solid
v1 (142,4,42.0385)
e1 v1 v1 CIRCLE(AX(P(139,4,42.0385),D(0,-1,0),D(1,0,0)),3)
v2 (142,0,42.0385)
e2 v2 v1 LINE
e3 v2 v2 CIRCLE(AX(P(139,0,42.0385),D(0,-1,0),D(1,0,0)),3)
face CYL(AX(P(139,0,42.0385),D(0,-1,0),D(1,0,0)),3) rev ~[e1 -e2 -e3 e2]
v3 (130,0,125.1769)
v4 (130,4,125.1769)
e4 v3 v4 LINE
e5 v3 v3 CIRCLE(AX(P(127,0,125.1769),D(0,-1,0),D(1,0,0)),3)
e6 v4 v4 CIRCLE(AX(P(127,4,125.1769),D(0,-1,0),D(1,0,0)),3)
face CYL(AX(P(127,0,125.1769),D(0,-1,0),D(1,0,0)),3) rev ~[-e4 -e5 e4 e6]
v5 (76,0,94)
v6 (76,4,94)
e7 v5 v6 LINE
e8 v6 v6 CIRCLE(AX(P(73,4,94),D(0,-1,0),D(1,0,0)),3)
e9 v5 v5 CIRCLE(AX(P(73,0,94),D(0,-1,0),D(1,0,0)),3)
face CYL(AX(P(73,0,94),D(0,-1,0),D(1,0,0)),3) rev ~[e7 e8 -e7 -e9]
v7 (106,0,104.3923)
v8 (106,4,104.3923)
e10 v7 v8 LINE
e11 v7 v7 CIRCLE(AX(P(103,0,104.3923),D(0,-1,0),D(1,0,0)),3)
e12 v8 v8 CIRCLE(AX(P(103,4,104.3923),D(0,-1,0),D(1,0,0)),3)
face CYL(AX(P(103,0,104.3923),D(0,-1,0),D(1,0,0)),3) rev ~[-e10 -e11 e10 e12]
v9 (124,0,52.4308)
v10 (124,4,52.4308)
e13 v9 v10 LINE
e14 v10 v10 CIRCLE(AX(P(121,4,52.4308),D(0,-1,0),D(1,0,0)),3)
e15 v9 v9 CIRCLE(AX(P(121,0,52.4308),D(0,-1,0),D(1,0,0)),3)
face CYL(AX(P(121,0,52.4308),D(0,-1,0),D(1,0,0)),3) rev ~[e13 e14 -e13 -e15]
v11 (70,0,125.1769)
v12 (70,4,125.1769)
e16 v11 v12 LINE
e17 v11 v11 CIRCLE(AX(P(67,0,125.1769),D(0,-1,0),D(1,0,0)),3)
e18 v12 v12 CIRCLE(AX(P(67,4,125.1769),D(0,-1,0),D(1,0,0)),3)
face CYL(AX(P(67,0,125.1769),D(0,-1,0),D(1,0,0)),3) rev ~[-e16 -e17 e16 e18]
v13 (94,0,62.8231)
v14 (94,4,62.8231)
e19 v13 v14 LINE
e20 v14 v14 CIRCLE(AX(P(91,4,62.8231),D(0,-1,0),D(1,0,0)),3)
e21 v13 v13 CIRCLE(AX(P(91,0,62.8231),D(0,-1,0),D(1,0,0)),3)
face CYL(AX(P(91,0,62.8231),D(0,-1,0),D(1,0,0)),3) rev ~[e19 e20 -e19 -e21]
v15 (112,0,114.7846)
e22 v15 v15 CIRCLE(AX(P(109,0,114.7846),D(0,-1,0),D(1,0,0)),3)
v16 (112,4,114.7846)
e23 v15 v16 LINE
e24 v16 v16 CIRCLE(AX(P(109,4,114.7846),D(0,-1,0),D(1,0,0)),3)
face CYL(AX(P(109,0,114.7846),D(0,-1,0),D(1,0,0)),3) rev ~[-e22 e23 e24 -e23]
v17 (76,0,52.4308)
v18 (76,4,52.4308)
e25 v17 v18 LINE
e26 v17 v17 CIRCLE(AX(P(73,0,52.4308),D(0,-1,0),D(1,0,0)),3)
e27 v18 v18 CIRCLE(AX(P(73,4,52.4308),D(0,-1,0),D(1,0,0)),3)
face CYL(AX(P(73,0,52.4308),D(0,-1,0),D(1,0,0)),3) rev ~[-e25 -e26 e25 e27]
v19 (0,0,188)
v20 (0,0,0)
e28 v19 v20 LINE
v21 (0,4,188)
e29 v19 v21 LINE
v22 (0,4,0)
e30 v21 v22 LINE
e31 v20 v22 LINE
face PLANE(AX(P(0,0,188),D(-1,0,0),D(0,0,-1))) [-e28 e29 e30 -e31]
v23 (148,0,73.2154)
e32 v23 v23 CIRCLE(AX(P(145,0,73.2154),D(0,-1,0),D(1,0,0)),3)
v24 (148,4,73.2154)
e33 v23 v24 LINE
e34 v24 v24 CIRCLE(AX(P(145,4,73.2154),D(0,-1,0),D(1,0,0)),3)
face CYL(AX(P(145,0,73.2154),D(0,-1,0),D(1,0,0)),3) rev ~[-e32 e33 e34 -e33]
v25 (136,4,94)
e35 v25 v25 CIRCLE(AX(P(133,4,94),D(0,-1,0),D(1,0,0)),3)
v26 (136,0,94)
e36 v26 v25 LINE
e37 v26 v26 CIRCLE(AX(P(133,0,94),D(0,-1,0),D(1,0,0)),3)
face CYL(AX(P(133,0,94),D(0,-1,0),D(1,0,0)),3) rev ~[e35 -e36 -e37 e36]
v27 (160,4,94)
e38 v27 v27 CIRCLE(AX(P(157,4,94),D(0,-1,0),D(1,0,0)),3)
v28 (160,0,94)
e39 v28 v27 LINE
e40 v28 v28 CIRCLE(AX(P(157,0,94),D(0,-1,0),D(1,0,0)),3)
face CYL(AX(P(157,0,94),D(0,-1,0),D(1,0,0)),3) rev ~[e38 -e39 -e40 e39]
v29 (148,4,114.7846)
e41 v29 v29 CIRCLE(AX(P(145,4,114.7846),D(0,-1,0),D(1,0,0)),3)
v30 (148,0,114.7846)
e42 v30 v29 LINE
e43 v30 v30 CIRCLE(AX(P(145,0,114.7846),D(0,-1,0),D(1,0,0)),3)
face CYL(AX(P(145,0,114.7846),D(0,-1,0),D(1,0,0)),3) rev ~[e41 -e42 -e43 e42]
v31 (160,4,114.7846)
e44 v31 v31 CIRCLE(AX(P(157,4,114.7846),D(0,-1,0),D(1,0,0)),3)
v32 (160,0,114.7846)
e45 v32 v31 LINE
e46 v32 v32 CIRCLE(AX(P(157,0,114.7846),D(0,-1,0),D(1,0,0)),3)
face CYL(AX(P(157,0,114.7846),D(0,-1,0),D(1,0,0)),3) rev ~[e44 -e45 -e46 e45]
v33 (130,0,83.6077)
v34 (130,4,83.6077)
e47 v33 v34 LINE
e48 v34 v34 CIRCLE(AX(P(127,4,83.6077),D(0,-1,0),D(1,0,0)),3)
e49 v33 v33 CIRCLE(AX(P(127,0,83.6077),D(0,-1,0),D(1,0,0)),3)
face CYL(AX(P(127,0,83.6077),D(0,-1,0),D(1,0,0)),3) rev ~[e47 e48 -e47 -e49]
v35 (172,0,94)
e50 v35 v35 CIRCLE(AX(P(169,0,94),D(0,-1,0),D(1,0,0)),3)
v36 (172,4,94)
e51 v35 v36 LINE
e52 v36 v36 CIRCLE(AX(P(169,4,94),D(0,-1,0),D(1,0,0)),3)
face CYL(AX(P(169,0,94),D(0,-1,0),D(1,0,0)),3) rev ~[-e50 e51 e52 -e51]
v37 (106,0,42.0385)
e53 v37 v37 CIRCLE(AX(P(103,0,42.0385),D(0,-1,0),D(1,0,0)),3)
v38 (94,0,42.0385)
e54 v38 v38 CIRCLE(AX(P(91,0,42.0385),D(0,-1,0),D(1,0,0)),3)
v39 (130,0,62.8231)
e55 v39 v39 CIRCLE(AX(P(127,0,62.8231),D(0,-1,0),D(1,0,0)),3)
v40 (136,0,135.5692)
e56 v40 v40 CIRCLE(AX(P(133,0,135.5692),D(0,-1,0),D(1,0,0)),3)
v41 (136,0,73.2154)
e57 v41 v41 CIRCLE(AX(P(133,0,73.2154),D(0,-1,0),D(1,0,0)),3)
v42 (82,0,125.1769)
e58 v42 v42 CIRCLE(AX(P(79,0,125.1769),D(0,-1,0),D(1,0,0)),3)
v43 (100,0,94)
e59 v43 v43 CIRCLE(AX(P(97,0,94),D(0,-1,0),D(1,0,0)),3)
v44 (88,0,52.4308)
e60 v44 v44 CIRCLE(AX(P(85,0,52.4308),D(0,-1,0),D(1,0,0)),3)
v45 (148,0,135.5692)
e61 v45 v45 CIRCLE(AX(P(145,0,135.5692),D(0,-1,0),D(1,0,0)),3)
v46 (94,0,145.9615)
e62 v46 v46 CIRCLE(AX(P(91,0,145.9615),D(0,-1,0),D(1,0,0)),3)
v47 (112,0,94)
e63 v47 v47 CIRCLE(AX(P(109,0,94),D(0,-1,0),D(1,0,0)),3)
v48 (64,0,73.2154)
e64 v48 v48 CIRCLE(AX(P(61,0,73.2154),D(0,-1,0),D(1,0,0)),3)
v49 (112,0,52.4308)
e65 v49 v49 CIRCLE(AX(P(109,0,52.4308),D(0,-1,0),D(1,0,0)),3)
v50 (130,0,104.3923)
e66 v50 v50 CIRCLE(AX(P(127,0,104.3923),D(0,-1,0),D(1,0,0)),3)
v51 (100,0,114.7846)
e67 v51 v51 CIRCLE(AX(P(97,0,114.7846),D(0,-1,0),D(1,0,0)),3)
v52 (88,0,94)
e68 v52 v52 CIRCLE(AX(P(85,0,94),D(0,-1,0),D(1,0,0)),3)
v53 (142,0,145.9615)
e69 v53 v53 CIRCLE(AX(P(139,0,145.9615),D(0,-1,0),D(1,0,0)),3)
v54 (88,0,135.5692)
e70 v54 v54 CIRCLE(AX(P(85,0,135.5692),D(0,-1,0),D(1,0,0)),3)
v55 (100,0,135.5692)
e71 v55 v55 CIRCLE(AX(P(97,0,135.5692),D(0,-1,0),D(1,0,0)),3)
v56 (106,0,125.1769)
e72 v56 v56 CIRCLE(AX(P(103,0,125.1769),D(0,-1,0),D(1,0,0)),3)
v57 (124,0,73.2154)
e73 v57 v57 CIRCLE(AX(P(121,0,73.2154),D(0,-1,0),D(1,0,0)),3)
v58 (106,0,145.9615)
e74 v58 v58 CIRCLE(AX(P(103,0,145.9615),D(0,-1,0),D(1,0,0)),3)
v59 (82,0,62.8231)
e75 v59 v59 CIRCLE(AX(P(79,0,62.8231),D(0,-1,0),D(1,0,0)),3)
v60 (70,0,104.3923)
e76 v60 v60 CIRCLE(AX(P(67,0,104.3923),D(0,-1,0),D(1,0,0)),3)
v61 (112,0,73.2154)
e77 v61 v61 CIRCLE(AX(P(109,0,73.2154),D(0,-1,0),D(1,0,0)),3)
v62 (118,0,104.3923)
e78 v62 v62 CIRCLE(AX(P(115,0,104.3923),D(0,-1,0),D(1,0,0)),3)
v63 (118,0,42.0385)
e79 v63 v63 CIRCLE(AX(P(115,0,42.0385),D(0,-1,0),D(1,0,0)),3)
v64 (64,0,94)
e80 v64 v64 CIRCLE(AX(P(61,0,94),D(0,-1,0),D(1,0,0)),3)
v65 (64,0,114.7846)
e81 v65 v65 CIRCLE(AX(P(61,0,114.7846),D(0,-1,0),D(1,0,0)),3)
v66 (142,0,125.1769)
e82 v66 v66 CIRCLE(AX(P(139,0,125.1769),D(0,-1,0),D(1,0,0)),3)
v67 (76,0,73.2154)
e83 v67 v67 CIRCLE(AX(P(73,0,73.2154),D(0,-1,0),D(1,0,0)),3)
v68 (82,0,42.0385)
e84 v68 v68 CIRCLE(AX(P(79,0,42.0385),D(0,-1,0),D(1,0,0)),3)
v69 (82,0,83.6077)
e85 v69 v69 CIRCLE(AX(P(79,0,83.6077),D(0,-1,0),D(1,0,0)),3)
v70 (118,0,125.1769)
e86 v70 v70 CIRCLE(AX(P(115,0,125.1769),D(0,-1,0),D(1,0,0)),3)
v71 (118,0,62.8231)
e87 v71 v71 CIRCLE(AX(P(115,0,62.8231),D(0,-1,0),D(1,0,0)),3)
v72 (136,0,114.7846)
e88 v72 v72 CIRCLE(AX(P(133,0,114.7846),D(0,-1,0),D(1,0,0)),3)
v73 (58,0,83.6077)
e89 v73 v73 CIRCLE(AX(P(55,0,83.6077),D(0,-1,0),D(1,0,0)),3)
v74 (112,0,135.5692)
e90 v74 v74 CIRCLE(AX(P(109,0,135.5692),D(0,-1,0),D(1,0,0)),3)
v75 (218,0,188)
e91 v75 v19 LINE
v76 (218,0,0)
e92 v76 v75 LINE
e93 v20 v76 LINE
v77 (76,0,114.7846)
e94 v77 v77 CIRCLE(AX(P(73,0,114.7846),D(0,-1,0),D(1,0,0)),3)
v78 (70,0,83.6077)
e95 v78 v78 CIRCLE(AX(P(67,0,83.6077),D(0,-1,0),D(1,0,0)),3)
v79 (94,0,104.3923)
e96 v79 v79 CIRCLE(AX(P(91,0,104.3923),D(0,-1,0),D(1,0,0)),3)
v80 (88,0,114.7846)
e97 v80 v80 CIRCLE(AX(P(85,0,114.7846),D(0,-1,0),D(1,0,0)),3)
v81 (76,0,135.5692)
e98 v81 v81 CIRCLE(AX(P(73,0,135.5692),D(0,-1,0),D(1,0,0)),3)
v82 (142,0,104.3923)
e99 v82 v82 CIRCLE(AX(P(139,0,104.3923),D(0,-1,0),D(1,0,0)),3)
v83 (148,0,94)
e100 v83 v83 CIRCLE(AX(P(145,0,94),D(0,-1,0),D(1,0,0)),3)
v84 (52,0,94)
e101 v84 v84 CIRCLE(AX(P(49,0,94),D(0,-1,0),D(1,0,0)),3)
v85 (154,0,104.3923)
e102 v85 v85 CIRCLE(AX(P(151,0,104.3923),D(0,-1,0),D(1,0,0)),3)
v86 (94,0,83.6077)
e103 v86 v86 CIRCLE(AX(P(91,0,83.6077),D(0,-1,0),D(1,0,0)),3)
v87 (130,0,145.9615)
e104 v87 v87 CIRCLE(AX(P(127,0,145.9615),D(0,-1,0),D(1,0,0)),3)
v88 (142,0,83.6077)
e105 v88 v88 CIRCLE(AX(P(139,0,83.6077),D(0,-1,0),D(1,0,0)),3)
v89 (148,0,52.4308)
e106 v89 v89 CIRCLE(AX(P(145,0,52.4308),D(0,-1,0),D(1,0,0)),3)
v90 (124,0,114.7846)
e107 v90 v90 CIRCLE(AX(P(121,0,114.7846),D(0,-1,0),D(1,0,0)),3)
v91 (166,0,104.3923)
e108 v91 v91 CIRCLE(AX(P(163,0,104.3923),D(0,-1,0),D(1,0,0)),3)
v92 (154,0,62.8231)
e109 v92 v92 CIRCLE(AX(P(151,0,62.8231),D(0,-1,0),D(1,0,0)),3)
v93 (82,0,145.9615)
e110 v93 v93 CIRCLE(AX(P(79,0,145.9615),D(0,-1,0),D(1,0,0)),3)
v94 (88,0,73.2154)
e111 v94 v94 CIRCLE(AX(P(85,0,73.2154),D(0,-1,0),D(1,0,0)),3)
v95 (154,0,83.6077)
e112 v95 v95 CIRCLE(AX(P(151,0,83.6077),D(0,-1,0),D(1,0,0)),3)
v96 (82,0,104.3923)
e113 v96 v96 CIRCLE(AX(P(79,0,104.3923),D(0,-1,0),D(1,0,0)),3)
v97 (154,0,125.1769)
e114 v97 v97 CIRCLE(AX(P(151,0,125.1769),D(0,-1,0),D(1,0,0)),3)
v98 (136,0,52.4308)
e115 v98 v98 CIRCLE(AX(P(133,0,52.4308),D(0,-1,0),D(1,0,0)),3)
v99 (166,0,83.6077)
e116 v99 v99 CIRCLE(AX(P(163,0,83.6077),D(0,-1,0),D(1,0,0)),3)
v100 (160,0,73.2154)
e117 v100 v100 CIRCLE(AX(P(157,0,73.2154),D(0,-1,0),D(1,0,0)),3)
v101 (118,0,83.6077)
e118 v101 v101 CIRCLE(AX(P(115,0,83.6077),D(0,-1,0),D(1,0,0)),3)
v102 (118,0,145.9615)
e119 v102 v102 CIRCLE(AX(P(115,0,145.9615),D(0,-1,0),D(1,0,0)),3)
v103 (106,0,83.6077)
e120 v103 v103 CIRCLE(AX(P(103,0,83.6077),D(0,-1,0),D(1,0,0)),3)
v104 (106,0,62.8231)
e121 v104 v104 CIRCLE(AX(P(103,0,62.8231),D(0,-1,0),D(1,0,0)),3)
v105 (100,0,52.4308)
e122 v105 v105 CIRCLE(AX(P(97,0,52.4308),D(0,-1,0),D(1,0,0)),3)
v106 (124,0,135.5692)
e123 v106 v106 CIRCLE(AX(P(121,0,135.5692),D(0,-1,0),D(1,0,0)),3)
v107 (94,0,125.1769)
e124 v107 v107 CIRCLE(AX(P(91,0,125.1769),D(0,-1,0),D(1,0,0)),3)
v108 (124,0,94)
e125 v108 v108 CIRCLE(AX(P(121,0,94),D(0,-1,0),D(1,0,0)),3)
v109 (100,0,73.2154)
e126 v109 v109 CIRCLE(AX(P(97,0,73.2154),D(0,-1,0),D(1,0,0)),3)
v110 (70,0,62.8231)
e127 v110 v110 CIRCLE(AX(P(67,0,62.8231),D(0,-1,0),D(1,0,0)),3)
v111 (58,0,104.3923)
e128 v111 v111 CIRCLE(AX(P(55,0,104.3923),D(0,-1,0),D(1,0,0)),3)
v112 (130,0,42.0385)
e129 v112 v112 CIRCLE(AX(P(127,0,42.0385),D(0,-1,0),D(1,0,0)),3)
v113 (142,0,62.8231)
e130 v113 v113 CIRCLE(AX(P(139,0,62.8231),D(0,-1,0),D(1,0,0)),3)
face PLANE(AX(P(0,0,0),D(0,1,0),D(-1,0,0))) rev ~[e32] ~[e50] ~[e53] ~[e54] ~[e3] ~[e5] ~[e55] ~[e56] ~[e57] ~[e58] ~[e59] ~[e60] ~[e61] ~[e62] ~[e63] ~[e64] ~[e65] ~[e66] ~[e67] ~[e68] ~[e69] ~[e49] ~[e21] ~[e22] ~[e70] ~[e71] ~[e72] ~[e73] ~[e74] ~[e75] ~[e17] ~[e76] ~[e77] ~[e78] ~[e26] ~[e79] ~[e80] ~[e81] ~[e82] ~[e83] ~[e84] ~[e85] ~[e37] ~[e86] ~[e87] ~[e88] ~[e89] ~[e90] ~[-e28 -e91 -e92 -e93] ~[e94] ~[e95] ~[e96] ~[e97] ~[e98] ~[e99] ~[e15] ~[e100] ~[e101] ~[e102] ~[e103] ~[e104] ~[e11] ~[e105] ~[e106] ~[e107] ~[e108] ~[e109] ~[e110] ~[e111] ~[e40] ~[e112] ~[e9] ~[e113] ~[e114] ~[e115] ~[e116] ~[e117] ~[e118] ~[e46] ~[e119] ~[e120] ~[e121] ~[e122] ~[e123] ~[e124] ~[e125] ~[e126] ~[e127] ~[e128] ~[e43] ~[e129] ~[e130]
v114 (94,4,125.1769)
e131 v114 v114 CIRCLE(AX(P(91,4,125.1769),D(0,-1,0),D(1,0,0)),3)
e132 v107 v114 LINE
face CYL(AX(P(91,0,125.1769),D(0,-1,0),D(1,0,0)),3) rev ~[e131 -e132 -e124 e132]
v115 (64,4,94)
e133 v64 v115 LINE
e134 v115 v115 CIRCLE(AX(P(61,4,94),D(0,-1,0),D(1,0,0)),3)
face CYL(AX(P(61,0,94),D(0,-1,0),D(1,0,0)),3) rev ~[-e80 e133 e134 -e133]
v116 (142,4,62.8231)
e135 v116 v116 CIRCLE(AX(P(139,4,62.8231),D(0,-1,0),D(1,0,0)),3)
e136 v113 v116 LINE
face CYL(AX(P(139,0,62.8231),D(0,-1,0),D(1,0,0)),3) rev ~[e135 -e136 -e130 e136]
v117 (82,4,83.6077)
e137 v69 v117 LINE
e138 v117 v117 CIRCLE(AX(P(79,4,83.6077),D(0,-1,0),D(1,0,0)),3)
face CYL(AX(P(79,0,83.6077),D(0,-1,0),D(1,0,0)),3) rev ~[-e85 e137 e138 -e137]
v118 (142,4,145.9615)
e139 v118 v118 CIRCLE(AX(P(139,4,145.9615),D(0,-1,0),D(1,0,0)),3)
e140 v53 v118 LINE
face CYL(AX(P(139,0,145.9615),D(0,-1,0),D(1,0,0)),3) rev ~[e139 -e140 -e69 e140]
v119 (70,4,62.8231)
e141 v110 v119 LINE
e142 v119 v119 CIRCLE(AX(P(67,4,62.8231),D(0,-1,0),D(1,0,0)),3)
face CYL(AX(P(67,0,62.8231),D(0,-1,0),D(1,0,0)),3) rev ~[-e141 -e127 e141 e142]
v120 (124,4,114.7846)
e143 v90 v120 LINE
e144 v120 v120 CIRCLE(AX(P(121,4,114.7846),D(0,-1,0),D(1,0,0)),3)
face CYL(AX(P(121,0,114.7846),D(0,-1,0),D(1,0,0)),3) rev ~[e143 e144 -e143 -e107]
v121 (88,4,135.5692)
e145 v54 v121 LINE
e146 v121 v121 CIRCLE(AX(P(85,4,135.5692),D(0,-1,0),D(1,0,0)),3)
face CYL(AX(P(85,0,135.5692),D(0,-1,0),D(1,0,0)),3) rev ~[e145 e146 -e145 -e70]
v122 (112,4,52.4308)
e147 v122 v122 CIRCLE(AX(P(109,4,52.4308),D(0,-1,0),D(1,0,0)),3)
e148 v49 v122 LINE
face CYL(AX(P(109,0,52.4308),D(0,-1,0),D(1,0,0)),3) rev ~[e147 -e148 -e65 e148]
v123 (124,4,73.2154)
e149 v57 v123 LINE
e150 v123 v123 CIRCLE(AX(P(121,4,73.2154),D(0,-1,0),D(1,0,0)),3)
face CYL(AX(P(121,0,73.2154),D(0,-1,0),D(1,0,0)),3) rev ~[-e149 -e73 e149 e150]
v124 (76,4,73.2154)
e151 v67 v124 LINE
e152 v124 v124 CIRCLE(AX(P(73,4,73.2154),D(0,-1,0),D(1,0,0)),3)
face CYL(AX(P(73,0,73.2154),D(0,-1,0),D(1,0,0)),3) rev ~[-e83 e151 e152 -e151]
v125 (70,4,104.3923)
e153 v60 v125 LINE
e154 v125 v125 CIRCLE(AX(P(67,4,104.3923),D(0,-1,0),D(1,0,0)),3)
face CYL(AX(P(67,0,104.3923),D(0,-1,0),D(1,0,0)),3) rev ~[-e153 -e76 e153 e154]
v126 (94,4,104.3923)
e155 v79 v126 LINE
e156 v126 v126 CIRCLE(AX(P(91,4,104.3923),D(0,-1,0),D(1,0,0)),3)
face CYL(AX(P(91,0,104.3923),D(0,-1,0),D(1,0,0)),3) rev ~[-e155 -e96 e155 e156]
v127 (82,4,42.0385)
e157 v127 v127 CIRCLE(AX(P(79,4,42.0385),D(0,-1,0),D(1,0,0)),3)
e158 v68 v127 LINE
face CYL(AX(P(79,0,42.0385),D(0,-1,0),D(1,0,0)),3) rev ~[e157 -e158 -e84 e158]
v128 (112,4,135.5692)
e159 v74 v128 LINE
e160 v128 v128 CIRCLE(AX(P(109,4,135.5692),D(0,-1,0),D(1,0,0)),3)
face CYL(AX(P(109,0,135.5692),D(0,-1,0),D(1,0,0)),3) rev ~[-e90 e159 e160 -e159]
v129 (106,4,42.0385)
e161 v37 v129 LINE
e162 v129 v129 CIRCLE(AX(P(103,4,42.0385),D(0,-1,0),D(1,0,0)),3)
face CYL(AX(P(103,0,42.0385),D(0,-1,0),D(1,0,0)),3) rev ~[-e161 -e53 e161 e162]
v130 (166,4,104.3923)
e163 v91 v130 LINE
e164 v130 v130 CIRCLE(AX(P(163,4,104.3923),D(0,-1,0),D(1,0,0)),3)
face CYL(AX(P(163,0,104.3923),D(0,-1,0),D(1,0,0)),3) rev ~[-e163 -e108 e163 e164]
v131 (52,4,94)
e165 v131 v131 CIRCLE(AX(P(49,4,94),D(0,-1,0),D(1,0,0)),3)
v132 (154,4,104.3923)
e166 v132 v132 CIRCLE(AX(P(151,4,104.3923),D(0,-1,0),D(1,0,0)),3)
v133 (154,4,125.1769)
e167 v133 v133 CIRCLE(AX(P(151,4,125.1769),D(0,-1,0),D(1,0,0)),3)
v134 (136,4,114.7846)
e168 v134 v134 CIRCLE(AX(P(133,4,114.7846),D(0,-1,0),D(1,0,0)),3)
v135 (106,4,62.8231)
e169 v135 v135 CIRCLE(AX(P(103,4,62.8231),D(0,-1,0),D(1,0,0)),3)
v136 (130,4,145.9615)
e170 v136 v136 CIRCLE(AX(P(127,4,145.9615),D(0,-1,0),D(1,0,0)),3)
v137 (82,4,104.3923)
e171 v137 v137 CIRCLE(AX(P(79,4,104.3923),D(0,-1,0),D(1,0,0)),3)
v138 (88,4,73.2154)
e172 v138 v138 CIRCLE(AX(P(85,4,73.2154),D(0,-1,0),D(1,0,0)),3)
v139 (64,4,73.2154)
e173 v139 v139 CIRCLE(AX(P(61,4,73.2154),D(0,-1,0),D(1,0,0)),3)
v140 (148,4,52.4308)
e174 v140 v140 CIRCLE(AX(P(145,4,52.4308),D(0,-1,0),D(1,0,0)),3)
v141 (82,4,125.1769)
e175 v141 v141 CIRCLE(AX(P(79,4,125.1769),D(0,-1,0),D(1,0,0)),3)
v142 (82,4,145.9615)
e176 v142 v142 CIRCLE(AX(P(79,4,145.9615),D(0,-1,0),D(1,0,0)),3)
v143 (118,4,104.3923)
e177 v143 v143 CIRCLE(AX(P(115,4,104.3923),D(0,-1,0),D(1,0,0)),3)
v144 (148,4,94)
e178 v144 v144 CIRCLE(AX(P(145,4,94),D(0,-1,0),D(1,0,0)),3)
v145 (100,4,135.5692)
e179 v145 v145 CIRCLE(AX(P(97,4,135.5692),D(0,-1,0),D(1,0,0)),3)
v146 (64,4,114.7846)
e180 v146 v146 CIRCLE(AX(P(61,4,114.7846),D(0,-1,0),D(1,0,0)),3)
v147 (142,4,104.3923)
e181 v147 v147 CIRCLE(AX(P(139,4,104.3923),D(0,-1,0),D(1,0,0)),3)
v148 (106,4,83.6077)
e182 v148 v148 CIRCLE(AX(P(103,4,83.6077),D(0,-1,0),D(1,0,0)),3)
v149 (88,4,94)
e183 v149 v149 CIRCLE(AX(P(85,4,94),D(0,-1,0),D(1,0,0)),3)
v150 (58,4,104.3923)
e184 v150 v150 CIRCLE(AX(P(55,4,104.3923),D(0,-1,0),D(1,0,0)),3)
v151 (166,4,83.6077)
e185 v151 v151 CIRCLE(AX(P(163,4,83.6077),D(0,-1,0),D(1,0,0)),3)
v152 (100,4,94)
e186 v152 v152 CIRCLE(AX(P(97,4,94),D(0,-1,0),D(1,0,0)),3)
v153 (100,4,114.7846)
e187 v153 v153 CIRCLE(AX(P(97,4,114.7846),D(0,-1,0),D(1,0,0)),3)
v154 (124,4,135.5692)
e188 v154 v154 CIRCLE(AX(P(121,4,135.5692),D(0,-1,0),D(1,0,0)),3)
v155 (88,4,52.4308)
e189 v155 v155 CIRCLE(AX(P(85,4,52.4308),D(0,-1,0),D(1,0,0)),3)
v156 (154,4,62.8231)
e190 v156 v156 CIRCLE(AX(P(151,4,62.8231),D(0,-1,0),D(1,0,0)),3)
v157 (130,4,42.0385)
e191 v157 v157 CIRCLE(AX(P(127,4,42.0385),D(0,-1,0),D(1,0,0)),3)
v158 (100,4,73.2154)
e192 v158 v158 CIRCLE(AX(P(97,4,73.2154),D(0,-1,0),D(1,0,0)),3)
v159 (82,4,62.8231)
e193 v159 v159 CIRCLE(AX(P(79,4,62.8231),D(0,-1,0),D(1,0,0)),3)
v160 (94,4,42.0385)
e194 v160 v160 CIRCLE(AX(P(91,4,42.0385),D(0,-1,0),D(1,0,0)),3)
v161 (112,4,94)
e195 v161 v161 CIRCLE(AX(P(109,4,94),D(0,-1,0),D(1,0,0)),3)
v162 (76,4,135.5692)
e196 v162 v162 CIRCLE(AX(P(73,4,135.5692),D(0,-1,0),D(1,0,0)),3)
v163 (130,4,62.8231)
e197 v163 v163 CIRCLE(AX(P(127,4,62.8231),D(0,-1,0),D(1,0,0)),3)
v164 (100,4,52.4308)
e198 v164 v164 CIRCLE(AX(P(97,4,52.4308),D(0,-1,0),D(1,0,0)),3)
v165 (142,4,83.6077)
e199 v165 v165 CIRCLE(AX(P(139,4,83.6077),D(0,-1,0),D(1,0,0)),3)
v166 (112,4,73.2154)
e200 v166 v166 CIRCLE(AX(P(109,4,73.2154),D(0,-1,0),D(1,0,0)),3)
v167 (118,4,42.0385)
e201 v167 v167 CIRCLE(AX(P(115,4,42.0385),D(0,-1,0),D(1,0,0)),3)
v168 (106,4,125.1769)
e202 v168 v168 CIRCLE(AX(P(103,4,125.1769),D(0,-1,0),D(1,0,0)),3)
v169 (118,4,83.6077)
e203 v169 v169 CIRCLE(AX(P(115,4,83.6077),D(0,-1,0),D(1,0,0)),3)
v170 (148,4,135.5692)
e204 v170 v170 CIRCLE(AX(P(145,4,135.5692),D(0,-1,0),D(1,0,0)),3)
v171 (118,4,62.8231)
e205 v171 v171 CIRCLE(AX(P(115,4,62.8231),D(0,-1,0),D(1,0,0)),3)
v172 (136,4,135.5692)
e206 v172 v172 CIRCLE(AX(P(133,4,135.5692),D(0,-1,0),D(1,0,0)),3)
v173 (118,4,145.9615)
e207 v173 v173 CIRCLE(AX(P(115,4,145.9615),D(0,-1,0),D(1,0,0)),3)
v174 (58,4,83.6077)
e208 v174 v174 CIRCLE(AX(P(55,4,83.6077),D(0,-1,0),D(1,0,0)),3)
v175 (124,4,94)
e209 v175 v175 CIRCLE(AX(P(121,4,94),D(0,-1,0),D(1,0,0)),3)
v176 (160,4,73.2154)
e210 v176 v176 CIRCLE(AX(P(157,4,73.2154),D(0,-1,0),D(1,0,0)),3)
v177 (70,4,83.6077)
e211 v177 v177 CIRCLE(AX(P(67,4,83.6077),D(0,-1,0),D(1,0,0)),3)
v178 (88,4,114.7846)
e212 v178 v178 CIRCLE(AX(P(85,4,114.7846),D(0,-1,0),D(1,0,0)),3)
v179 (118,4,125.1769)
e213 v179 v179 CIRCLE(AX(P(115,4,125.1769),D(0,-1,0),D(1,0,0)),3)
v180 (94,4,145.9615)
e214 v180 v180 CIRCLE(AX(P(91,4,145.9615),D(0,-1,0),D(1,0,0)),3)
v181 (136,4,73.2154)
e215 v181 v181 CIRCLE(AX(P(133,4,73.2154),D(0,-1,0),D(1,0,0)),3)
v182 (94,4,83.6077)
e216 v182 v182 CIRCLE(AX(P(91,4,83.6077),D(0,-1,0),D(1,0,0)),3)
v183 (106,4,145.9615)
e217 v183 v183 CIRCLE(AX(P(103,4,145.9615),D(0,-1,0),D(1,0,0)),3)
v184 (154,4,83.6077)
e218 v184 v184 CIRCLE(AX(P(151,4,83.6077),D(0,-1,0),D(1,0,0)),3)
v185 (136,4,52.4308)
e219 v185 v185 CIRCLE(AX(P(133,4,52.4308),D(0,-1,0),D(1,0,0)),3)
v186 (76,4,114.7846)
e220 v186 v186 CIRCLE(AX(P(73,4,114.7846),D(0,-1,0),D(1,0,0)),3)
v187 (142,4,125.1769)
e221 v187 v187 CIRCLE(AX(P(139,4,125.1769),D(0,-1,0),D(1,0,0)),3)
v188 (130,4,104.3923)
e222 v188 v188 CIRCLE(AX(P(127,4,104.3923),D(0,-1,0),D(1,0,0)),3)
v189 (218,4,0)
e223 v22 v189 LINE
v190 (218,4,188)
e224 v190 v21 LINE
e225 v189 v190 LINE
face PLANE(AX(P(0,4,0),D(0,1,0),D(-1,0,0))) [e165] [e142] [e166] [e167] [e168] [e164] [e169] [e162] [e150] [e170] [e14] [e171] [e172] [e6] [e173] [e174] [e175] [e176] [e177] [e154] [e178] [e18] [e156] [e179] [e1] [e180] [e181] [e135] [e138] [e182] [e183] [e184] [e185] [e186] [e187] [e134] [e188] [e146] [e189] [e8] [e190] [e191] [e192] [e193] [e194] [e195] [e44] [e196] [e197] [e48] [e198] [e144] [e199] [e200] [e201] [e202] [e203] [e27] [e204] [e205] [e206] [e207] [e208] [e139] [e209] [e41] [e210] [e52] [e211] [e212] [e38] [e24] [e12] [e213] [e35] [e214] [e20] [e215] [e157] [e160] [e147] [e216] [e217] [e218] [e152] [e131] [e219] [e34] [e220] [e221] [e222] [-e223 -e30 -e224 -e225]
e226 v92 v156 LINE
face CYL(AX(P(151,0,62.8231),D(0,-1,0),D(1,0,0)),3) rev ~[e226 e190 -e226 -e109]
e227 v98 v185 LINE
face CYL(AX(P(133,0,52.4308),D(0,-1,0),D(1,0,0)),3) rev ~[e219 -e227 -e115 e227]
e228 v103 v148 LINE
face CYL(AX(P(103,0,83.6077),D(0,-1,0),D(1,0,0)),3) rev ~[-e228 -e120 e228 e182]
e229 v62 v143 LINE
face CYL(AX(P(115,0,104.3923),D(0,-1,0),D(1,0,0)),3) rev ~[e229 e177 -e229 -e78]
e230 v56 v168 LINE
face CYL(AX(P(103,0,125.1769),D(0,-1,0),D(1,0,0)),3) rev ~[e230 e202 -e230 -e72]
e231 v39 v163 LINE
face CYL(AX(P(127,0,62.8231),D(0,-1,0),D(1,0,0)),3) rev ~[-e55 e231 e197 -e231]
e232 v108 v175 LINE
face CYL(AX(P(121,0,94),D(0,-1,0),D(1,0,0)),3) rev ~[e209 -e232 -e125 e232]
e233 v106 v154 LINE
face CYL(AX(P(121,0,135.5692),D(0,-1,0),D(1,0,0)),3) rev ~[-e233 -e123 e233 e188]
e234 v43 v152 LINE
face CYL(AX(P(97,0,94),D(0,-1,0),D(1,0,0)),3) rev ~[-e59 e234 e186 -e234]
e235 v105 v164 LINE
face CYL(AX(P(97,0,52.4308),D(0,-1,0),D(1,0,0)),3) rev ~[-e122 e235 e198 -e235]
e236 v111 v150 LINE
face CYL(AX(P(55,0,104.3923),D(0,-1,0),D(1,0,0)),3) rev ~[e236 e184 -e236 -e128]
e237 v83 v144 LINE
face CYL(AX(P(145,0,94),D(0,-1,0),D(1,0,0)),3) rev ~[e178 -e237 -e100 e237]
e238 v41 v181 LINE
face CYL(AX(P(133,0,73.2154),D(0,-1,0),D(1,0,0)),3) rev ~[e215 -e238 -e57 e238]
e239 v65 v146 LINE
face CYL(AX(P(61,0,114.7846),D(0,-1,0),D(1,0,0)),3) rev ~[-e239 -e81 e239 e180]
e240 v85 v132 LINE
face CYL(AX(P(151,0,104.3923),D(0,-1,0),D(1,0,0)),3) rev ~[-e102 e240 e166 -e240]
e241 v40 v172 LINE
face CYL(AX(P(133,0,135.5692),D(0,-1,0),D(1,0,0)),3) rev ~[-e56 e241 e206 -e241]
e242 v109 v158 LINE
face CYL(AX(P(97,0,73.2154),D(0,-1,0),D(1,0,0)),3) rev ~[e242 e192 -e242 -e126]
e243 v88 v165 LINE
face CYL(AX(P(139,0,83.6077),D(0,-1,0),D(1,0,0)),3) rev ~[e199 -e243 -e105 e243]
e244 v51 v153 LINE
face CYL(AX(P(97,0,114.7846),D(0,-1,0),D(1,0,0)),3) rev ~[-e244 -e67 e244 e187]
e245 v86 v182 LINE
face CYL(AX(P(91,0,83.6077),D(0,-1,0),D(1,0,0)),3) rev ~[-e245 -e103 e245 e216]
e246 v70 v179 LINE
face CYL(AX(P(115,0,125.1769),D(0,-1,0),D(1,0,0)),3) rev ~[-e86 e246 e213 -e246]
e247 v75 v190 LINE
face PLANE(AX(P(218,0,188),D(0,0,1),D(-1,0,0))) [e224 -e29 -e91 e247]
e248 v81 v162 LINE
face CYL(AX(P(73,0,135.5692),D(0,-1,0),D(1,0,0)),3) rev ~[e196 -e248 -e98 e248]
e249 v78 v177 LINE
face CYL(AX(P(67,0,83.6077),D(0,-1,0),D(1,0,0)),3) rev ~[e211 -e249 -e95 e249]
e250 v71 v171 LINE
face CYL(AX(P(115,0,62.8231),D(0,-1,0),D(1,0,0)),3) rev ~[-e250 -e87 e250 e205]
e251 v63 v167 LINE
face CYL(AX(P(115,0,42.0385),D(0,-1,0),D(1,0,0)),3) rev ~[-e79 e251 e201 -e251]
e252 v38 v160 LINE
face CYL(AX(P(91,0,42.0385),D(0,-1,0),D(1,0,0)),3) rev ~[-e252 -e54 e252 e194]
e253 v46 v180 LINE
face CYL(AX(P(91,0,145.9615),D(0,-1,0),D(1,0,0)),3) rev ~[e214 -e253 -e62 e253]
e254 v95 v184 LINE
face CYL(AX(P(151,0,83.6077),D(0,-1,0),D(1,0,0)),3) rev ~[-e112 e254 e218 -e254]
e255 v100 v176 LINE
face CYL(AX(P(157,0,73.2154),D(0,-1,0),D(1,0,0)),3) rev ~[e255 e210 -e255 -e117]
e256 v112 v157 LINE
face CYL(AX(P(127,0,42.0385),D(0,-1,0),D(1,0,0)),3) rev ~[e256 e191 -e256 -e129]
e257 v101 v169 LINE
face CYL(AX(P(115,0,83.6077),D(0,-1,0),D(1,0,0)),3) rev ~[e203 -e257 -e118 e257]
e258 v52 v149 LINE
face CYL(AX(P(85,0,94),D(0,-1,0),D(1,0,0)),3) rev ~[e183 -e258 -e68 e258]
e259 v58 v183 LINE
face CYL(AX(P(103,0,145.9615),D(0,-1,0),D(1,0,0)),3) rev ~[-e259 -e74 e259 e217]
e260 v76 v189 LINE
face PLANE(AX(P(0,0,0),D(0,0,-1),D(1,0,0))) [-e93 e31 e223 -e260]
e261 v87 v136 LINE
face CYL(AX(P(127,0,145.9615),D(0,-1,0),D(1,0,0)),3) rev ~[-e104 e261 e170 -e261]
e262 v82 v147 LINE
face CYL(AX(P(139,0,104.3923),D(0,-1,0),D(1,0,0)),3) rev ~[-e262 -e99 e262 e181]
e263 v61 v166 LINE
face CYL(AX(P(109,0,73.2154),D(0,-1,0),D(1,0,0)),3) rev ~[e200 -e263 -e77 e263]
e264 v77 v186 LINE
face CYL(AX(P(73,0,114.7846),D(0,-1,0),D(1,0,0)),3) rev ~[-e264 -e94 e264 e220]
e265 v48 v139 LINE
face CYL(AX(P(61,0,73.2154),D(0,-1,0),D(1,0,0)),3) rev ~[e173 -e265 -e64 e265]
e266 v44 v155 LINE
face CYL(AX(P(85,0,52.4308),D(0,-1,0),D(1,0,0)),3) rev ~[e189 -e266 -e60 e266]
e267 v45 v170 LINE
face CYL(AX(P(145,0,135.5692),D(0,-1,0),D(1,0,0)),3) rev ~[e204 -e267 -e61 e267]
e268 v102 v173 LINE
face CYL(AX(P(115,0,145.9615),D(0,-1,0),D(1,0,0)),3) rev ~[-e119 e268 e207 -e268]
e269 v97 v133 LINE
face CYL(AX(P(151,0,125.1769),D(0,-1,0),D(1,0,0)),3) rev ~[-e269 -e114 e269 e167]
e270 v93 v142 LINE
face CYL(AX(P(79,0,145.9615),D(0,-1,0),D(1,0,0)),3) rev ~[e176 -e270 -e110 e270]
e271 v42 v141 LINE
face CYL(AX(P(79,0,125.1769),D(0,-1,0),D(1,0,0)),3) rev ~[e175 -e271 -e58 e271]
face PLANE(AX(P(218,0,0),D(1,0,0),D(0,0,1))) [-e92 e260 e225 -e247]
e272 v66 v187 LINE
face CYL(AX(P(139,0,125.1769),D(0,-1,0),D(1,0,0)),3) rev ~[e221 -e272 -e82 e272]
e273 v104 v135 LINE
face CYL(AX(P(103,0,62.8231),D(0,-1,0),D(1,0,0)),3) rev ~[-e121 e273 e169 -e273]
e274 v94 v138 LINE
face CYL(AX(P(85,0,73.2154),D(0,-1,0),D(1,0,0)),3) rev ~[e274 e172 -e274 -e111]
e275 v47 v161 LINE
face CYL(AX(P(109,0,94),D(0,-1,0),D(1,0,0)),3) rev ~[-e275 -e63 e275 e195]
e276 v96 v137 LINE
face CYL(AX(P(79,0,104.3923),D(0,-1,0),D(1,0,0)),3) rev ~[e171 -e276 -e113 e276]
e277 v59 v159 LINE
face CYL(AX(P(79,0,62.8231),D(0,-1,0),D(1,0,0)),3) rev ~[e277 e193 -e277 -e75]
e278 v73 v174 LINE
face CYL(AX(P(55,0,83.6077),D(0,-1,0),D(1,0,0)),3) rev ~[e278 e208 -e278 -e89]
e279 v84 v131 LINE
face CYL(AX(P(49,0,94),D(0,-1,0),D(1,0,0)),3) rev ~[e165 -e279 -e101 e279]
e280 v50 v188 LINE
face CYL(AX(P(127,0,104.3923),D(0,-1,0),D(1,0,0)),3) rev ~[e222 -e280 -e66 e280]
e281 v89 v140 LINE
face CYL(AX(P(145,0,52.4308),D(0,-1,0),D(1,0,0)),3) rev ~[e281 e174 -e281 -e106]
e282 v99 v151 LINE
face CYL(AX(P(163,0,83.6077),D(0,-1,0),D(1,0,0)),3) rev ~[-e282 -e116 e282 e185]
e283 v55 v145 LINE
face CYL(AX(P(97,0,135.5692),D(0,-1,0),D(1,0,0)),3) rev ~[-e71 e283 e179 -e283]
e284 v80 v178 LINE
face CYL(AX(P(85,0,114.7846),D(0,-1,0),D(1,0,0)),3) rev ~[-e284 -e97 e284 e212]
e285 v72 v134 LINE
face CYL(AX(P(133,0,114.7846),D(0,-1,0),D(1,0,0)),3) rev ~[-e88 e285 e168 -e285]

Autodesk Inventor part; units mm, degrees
ref_plane "YZ Plane" through (0, 0, 0) normal (1, 0, 0) x (0, 1, 0)
ref_plane "XZ Plane" through (0, 0, 0) normal (0, 1, 0) x (-1, 0, 0)
ref_plane "XY Plane" through (0, 0, 0) normal (0, 0, 1) x (1, 0, 0)
sketch "Skizze1" plane through (0, 0, 0) normal (0, 1, 0) x (-1, 0, 0)
  line L0 (0, 0) -> (-218, 0)
  line L1 (-218, 0) -> (-218, 188)
  line L2 (-218, 188) -> (0, 188)
  line L3 (0, 188) -> (0, 0)
  dimension "d0" = 188
  dimension "d1" = 218
extrude "Extrusion1" add sketch "Skizze1" along normal blind 4
sketch "Skizze2" plane through (0, 0, 0) normal (0, -1, 0) x (1, 0, 0)
  circle A0 centre (109, 94) radius 3
  line L0 (103, 104.3923) -> (115, 104.3923) construction
  line L1 (115, 104.3923) -> (121, 94) construction
  line L2 (121, 94) -> (115, 83.6077) construction
  line L3 (115, 83.6077) -> (103, 83.6077) construction
  line L4 (103, 83.6077) -> (97, 94) construction
  line L5 (97, 94) -> (103, 104.3923) construction
  line L6 (97, 114.7846) -> (121, 114.7846) construction
  line L7 (121, 114.7846) -> (133, 94) construction
  line L8 (133, 94) -> (121, 73.2154) construction
  line L9 (121, 73.2154) -> (97, 73.2154) construction
  line L10 (97, 73.2154) -> (85, 94) construction
  line L11 (85, 94) -> (97, 114.7846) construction
  line L12 (85, 135.5692) -> (133, 135.5692) construction
  line L13 (157, 94) -> (133, 52.4308) construction
  line L14 (133, 52.4308) -> (85, 52.4308) construction
  line L15 (85, 52.4308) -> (61, 94) construction
  line L16 (61, 94) -> (85, 135.5692) construction
  line L17 (0, 0) -> (0, 188) projected
  line L18 (218, 0) -> (0, 0) construction
  line L19 (0, 0) -> (0, 188) projected
  line L20 (0, 94) -> (109, 94) construction
  line L21 (109, 94) -> (109, 0) construction
  line L22 (218, 0) -> (0, 0) construction
  circle A1 centre (103, 104.3923) radius 3
  circle A2 centre (115, 104.3923) radius 3
  circle A3 centre (121, 94) radius 3
  circle A4 centre (115, 83.6077) radius 3
  circle A5 centre (103, 83.6077) radius 3
  circle A6 centre (97, 94) radius 3
  circle A7 centre (85, 94) radius 3
  circle A8 centre (91, 104.3923) radius 3
  circle A9 centre (97, 114.7846) radius 3
  circle A10 centre (121, 114.7846) radius 3
  circle A11 centre (127, 104.3923) radius 3
  circle A12 centre (109, 114.7846) radius 3
  circle A13 centre (133, 94) radius 3
  circle A14 centre (127, 83.6077) radius 3
  circle A15 centre (121, 73.2154) radius 3
  circle A16 centre (109, 73.2154) radius 3
  circle A17 centre (97, 73.2154) radius 3
  circle A18 centre (91, 83.6077) radius 3
  circle A19 centre (85, 135.5692) radius 3
  circle A20 centre (73, 114.7846) radius 3
  circle A21 centre (79, 125.1769) radius 3
  circle A22 centre (67, 104.3923) radius 3
  circle A23 centre (61, 94) radius 3
  circle A24 centre (73, 73.2154) radius 3
  circle A25 centre (67, 83.6077) radius 3
  circle A26 centre (85, 52.4308) radius 3
  circle A27 centre (79, 62.8231) radius 3
  circle A28 centre (109, 52.4308) radius 3
  circle A29 centre (97, 52.4308) radius 3
  circle A30 centre (121, 52.4308) radius 3
  circle A31 centre (133, 52.4308) radius 3
  circle A32 centre (145, 73.2154) radius 3
  circle A33 centre (139, 62.8231) radius 3
  circle A34 centre (151, 83.6077) radius 3
  circle A35 centre (157, 94) radius 3
  circle A36 centre (145, 114.7846) radius 3
  circle A37 centre (151, 104.3923) radius 3
  circle A38 centre (139, 125.1769) radius 3
  circle A39 centre (133, 135.5692) radius 3
  circle A40 centre (109, 135.5692) radius 3
  circle A41 centre (121, 135.5692) radius 3
  circle A42 centre (97, 135.5692) radius 3
  line L23 (139, 125.1769) -> (133, 135.5692) construction
  line L24 (139, 125.1769) -> (145, 114.7846) construction
  line L25 (145, 114.7846) -> (151, 104.3923) construction
  line L26 (151, 104.3923) -> (157, 94) construction
  line L27 (151, 83.6077) -> (157, 94) construction
  line L28 (151, 83.6077) -> (145, 73.2154) construction
  line L29 (139, 62.8231) -> (145, 73.2154) construction
  line L30 (139, 62.8231) -> (133, 52.4308) construction
  line L31 (109, 52.4308) -> (121, 52.4308) construction
  line L32 (121, 52.4308) -> (133, 52.4308) construction
  line L33 (85, 52.4308) -> (97, 52.4308) construction
  line L34 (97, 52.4308) -> (109, 52.4308) construction
  line L35 (85, 52.4308) -> (79, 62.8231) construction
  line L36 (79, 62.8231) -> (73, 73.2154) construction
  line L37 (73, 73.2154) -> (67, 83.6077) construction
  line L38 (67, 83.6077) -> (61, 94) construction
  line L39 (61, 94) -> (67, 104.3923) construction
  line L40 (67, 104.3923) -> (73, 114.7846) construction
  line L41 (73, 114.7846) -> (79, 125.1769) construction
  line L42 (79, 125.1769) -> (85, 135.5692) construction
  line L43 (85, 135.5692) -> (97, 135.5692) construction
  line L44 (109, 135.5692) -> (97, 135.5692) construction
  line L45 (109, 135.5692) -> (121, 135.5692) construction
  line L46 (121, 135.5692) -> (133, 135.5692) construction
  line L47 (91, 125.1769) -> (103, 125.1769) construction
  line L48 (103, 125.1769) -> (115, 125.1769) construction
  line L49 (115, 125.1769) -> (127, 125.1769) construction
  line L50 (127, 125.1769) -> (133, 114.7846) construction
  line L51 (133, 114.7846) -> (139, 104.3923) construction
  line L52 (139, 104.3923) -> (145, 94) construction
  line L53 (145, 94) -> (139, 83.6077) construction
  line L54 (139, 83.6077) -> (133, 73.2154) construction
  line L55 (133, 73.2154) -> (127, 62.8231) construction
  line L56 (127, 62.8231) -> (115, 62.8231) construction
  line L57 (115, 62.8231) -> (103, 62.8231) construction
  line L58 (103, 62.8231) -> (91, 62.8231) construction
  line L59 (91, 62.8231) -> (85, 73.2154) construction
  line L60 (85, 73.2154) -> (79, 83.6077) construction
  line L61 (79, 83.6077) -> (73, 94) construction
  line L62 (73, 94) -> (79, 104.3923) construction
  line L63 (79, 104.3923) -> (85, 114.7846) construction
  line L64 (85, 114.7846) -> (91, 125.1769) construction
  line L65 (91, 125.1769) -> (127, 62.8231) construction
  circle A43 centre (73, 94) radius 3
  circle A44 centre (79, 104.3923) radius 3
  circle A45 centre (85, 114.7846) radius 3
  circle A46 centre (91, 125.1769) radius 3
  circle A47 centre (103, 125.1769) radius 3
  circle A48 centre (115, 125.1769) radius 3
  circle A49 centre (127, 125.1769) radius 3
  circle A50 centre (133, 114.7846) radius 3
  circle A51 centre (139, 104.3923) radius 3
  circle A52 centre (145, 94) radius 3
  circle A53 centre (139, 83.6077) radius 3
  circle A54 centre (133, 73.2154) radius 3
  circle A55 centre (127, 62.8231) radius 3
  circle A56 centre (115, 62.8231) radius 3
  circle A57 centre (103, 62.8231) radius 3
  circle A58 centre (91, 62.8231) radius 3
  circle A59 centre (85, 73.2154) radius 3
  circle A60 centre (79, 83.6077) radius 3
  line L66 (79, 145.9615) -> (91, 145.9615) construction
  line L67 (91, 145.9615) -> (103, 145.9615) construction
  line L68 (103, 145.9615) -> (115, 145.9615) construction
  line L69 (115, 145.9615) -> (127, 145.9615) construction
  line L70 (127, 145.9615) -> (139, 145.9615) construction
  line L71 (79, 145.9615) -> (73, 135.5692) construction
  line L72 (73, 135.5692) -> (67, 125.1769) construction
  line L73 (67, 125.1769) -> (61, 114.7846) construction
  line L74 (61, 114.7846) -> (55, 104.3923) construction
  line L75 (55, 104.3923) -> (49, 94) construction
  line L76 (139, 42.0385) -> (127, 42.0385) construction
  line L77 (127, 42.0385) -> (115, 42.0385) construction
  line L78 (115, 42.0385) -> (103, 42.0385) construction
  line L79 (103, 42.0385) -> (91, 42.0385) construction
  line L80 (91, 42.0385) -> (79, 42.0385) construction
  line L81 (169, 94) -> (163, 104.3923) construction
  line L82 (163, 104.3923) -> (157, 114.7846) construction
  line L83 (157, 114.7846) -> (151, 125.1769) construction
  line L84 (151, 125.1769) -> (145, 135.5692) construction
  line L85 (145, 135.5692) -> (139, 145.9615) construction
  line L86 (169, 94) -> (163, 83.6077) construction
  line L87 (163, 83.6077) -> (157, 73.2154) construction
  line L88 (157, 73.2154) -> (151, 62.8231) construction
  line L89 (151, 62.8231) -> (145, 52.4308) construction
  line L90 (145, 52.4308) -> (139, 42.0385) construction
  line L91 (79, 42.0385) -> (73, 52.4308) construction
  line L92 (73, 52.4308) -> (67, 62.8231) construction
  line L93 (67, 62.8231) -> (61, 73.2154) construction
  line L94 (61, 73.2154) -> (55, 83.6077) construction
  line L95 (55, 83.6077) -> (49, 94) construction
  line L96 (139, 42.0385) -> (79, 145.9615) construction
  circle A61 centre (49, 94) radius 3
  circle A62 centre (55, 104.3923) radius 3
  circle A63 centre (61, 114.7846) radius 3
  circle A64 centre (67, 125.1769) radius 3
  circle A65 centre (73, 135.5692) radius 3
  circle A66 centre (79, 145.9615) radius 3
  circle A67 centre (91, 145.9615) radius 3
  circle A68 centre (103, 145.9615) radius 3
  circle A69 centre (115, 145.9615) radius 3
  circle A70 centre (127, 145.9615) radius 3
  circle A71 centre (139, 145.9615) radius 3
  circle A72 centre (145, 135.5692) radius 3
  circle A73 centre (151, 125.1769) radius 3
  circle A74 centre (157, 114.7846) radius 3
  circle A75 centre (163, 104.3923) radius 3
  circle A76 centre (169, 94) radius 3
  circle A77 centre (163, 83.6077) radius 3
  circle A78 centre (157, 73.2154) radius 3
  circle A79 centre (151, 62.8231) radius 3
  circle A80 centre (145, 52.4308) radius 3
  circle A81 centre (139, 42.0385) radius 3
  circle A82 centre (79, 42.0385) radius 3
  circle A83 centre (91, 42.0385) radius 3
  circle A84 centre (103, 42.0385) radius 3
  circle A85 centre (115, 42.0385) radius 3
  circle A86 centre (127, 42.0385) radius 3
  circle A87 centre (73, 52.4308) radius 3
  circle A88 centre (67, 62.8231) radius 3
  circle A89 centre (61, 73.2154) radius 3
  circle A90 centre (55, 83.6077) radius 3
  dimension "d4" = 6
  dimension "d9" = 12
  dimension "d10" = 12
  dimension "d11" = 12
  dimension "d12" = 12
  dimension "d16" = 12
extrude "Extrusion2" cut sketch "Skizze2" against normal blind 4
equation "\"d10\" = d9"
equation "\"d11\" = d9"
equation "\"d12\" = d9"
equation "\"d16\" = d9"
properties part number "topPlatte" material "Pappel"
